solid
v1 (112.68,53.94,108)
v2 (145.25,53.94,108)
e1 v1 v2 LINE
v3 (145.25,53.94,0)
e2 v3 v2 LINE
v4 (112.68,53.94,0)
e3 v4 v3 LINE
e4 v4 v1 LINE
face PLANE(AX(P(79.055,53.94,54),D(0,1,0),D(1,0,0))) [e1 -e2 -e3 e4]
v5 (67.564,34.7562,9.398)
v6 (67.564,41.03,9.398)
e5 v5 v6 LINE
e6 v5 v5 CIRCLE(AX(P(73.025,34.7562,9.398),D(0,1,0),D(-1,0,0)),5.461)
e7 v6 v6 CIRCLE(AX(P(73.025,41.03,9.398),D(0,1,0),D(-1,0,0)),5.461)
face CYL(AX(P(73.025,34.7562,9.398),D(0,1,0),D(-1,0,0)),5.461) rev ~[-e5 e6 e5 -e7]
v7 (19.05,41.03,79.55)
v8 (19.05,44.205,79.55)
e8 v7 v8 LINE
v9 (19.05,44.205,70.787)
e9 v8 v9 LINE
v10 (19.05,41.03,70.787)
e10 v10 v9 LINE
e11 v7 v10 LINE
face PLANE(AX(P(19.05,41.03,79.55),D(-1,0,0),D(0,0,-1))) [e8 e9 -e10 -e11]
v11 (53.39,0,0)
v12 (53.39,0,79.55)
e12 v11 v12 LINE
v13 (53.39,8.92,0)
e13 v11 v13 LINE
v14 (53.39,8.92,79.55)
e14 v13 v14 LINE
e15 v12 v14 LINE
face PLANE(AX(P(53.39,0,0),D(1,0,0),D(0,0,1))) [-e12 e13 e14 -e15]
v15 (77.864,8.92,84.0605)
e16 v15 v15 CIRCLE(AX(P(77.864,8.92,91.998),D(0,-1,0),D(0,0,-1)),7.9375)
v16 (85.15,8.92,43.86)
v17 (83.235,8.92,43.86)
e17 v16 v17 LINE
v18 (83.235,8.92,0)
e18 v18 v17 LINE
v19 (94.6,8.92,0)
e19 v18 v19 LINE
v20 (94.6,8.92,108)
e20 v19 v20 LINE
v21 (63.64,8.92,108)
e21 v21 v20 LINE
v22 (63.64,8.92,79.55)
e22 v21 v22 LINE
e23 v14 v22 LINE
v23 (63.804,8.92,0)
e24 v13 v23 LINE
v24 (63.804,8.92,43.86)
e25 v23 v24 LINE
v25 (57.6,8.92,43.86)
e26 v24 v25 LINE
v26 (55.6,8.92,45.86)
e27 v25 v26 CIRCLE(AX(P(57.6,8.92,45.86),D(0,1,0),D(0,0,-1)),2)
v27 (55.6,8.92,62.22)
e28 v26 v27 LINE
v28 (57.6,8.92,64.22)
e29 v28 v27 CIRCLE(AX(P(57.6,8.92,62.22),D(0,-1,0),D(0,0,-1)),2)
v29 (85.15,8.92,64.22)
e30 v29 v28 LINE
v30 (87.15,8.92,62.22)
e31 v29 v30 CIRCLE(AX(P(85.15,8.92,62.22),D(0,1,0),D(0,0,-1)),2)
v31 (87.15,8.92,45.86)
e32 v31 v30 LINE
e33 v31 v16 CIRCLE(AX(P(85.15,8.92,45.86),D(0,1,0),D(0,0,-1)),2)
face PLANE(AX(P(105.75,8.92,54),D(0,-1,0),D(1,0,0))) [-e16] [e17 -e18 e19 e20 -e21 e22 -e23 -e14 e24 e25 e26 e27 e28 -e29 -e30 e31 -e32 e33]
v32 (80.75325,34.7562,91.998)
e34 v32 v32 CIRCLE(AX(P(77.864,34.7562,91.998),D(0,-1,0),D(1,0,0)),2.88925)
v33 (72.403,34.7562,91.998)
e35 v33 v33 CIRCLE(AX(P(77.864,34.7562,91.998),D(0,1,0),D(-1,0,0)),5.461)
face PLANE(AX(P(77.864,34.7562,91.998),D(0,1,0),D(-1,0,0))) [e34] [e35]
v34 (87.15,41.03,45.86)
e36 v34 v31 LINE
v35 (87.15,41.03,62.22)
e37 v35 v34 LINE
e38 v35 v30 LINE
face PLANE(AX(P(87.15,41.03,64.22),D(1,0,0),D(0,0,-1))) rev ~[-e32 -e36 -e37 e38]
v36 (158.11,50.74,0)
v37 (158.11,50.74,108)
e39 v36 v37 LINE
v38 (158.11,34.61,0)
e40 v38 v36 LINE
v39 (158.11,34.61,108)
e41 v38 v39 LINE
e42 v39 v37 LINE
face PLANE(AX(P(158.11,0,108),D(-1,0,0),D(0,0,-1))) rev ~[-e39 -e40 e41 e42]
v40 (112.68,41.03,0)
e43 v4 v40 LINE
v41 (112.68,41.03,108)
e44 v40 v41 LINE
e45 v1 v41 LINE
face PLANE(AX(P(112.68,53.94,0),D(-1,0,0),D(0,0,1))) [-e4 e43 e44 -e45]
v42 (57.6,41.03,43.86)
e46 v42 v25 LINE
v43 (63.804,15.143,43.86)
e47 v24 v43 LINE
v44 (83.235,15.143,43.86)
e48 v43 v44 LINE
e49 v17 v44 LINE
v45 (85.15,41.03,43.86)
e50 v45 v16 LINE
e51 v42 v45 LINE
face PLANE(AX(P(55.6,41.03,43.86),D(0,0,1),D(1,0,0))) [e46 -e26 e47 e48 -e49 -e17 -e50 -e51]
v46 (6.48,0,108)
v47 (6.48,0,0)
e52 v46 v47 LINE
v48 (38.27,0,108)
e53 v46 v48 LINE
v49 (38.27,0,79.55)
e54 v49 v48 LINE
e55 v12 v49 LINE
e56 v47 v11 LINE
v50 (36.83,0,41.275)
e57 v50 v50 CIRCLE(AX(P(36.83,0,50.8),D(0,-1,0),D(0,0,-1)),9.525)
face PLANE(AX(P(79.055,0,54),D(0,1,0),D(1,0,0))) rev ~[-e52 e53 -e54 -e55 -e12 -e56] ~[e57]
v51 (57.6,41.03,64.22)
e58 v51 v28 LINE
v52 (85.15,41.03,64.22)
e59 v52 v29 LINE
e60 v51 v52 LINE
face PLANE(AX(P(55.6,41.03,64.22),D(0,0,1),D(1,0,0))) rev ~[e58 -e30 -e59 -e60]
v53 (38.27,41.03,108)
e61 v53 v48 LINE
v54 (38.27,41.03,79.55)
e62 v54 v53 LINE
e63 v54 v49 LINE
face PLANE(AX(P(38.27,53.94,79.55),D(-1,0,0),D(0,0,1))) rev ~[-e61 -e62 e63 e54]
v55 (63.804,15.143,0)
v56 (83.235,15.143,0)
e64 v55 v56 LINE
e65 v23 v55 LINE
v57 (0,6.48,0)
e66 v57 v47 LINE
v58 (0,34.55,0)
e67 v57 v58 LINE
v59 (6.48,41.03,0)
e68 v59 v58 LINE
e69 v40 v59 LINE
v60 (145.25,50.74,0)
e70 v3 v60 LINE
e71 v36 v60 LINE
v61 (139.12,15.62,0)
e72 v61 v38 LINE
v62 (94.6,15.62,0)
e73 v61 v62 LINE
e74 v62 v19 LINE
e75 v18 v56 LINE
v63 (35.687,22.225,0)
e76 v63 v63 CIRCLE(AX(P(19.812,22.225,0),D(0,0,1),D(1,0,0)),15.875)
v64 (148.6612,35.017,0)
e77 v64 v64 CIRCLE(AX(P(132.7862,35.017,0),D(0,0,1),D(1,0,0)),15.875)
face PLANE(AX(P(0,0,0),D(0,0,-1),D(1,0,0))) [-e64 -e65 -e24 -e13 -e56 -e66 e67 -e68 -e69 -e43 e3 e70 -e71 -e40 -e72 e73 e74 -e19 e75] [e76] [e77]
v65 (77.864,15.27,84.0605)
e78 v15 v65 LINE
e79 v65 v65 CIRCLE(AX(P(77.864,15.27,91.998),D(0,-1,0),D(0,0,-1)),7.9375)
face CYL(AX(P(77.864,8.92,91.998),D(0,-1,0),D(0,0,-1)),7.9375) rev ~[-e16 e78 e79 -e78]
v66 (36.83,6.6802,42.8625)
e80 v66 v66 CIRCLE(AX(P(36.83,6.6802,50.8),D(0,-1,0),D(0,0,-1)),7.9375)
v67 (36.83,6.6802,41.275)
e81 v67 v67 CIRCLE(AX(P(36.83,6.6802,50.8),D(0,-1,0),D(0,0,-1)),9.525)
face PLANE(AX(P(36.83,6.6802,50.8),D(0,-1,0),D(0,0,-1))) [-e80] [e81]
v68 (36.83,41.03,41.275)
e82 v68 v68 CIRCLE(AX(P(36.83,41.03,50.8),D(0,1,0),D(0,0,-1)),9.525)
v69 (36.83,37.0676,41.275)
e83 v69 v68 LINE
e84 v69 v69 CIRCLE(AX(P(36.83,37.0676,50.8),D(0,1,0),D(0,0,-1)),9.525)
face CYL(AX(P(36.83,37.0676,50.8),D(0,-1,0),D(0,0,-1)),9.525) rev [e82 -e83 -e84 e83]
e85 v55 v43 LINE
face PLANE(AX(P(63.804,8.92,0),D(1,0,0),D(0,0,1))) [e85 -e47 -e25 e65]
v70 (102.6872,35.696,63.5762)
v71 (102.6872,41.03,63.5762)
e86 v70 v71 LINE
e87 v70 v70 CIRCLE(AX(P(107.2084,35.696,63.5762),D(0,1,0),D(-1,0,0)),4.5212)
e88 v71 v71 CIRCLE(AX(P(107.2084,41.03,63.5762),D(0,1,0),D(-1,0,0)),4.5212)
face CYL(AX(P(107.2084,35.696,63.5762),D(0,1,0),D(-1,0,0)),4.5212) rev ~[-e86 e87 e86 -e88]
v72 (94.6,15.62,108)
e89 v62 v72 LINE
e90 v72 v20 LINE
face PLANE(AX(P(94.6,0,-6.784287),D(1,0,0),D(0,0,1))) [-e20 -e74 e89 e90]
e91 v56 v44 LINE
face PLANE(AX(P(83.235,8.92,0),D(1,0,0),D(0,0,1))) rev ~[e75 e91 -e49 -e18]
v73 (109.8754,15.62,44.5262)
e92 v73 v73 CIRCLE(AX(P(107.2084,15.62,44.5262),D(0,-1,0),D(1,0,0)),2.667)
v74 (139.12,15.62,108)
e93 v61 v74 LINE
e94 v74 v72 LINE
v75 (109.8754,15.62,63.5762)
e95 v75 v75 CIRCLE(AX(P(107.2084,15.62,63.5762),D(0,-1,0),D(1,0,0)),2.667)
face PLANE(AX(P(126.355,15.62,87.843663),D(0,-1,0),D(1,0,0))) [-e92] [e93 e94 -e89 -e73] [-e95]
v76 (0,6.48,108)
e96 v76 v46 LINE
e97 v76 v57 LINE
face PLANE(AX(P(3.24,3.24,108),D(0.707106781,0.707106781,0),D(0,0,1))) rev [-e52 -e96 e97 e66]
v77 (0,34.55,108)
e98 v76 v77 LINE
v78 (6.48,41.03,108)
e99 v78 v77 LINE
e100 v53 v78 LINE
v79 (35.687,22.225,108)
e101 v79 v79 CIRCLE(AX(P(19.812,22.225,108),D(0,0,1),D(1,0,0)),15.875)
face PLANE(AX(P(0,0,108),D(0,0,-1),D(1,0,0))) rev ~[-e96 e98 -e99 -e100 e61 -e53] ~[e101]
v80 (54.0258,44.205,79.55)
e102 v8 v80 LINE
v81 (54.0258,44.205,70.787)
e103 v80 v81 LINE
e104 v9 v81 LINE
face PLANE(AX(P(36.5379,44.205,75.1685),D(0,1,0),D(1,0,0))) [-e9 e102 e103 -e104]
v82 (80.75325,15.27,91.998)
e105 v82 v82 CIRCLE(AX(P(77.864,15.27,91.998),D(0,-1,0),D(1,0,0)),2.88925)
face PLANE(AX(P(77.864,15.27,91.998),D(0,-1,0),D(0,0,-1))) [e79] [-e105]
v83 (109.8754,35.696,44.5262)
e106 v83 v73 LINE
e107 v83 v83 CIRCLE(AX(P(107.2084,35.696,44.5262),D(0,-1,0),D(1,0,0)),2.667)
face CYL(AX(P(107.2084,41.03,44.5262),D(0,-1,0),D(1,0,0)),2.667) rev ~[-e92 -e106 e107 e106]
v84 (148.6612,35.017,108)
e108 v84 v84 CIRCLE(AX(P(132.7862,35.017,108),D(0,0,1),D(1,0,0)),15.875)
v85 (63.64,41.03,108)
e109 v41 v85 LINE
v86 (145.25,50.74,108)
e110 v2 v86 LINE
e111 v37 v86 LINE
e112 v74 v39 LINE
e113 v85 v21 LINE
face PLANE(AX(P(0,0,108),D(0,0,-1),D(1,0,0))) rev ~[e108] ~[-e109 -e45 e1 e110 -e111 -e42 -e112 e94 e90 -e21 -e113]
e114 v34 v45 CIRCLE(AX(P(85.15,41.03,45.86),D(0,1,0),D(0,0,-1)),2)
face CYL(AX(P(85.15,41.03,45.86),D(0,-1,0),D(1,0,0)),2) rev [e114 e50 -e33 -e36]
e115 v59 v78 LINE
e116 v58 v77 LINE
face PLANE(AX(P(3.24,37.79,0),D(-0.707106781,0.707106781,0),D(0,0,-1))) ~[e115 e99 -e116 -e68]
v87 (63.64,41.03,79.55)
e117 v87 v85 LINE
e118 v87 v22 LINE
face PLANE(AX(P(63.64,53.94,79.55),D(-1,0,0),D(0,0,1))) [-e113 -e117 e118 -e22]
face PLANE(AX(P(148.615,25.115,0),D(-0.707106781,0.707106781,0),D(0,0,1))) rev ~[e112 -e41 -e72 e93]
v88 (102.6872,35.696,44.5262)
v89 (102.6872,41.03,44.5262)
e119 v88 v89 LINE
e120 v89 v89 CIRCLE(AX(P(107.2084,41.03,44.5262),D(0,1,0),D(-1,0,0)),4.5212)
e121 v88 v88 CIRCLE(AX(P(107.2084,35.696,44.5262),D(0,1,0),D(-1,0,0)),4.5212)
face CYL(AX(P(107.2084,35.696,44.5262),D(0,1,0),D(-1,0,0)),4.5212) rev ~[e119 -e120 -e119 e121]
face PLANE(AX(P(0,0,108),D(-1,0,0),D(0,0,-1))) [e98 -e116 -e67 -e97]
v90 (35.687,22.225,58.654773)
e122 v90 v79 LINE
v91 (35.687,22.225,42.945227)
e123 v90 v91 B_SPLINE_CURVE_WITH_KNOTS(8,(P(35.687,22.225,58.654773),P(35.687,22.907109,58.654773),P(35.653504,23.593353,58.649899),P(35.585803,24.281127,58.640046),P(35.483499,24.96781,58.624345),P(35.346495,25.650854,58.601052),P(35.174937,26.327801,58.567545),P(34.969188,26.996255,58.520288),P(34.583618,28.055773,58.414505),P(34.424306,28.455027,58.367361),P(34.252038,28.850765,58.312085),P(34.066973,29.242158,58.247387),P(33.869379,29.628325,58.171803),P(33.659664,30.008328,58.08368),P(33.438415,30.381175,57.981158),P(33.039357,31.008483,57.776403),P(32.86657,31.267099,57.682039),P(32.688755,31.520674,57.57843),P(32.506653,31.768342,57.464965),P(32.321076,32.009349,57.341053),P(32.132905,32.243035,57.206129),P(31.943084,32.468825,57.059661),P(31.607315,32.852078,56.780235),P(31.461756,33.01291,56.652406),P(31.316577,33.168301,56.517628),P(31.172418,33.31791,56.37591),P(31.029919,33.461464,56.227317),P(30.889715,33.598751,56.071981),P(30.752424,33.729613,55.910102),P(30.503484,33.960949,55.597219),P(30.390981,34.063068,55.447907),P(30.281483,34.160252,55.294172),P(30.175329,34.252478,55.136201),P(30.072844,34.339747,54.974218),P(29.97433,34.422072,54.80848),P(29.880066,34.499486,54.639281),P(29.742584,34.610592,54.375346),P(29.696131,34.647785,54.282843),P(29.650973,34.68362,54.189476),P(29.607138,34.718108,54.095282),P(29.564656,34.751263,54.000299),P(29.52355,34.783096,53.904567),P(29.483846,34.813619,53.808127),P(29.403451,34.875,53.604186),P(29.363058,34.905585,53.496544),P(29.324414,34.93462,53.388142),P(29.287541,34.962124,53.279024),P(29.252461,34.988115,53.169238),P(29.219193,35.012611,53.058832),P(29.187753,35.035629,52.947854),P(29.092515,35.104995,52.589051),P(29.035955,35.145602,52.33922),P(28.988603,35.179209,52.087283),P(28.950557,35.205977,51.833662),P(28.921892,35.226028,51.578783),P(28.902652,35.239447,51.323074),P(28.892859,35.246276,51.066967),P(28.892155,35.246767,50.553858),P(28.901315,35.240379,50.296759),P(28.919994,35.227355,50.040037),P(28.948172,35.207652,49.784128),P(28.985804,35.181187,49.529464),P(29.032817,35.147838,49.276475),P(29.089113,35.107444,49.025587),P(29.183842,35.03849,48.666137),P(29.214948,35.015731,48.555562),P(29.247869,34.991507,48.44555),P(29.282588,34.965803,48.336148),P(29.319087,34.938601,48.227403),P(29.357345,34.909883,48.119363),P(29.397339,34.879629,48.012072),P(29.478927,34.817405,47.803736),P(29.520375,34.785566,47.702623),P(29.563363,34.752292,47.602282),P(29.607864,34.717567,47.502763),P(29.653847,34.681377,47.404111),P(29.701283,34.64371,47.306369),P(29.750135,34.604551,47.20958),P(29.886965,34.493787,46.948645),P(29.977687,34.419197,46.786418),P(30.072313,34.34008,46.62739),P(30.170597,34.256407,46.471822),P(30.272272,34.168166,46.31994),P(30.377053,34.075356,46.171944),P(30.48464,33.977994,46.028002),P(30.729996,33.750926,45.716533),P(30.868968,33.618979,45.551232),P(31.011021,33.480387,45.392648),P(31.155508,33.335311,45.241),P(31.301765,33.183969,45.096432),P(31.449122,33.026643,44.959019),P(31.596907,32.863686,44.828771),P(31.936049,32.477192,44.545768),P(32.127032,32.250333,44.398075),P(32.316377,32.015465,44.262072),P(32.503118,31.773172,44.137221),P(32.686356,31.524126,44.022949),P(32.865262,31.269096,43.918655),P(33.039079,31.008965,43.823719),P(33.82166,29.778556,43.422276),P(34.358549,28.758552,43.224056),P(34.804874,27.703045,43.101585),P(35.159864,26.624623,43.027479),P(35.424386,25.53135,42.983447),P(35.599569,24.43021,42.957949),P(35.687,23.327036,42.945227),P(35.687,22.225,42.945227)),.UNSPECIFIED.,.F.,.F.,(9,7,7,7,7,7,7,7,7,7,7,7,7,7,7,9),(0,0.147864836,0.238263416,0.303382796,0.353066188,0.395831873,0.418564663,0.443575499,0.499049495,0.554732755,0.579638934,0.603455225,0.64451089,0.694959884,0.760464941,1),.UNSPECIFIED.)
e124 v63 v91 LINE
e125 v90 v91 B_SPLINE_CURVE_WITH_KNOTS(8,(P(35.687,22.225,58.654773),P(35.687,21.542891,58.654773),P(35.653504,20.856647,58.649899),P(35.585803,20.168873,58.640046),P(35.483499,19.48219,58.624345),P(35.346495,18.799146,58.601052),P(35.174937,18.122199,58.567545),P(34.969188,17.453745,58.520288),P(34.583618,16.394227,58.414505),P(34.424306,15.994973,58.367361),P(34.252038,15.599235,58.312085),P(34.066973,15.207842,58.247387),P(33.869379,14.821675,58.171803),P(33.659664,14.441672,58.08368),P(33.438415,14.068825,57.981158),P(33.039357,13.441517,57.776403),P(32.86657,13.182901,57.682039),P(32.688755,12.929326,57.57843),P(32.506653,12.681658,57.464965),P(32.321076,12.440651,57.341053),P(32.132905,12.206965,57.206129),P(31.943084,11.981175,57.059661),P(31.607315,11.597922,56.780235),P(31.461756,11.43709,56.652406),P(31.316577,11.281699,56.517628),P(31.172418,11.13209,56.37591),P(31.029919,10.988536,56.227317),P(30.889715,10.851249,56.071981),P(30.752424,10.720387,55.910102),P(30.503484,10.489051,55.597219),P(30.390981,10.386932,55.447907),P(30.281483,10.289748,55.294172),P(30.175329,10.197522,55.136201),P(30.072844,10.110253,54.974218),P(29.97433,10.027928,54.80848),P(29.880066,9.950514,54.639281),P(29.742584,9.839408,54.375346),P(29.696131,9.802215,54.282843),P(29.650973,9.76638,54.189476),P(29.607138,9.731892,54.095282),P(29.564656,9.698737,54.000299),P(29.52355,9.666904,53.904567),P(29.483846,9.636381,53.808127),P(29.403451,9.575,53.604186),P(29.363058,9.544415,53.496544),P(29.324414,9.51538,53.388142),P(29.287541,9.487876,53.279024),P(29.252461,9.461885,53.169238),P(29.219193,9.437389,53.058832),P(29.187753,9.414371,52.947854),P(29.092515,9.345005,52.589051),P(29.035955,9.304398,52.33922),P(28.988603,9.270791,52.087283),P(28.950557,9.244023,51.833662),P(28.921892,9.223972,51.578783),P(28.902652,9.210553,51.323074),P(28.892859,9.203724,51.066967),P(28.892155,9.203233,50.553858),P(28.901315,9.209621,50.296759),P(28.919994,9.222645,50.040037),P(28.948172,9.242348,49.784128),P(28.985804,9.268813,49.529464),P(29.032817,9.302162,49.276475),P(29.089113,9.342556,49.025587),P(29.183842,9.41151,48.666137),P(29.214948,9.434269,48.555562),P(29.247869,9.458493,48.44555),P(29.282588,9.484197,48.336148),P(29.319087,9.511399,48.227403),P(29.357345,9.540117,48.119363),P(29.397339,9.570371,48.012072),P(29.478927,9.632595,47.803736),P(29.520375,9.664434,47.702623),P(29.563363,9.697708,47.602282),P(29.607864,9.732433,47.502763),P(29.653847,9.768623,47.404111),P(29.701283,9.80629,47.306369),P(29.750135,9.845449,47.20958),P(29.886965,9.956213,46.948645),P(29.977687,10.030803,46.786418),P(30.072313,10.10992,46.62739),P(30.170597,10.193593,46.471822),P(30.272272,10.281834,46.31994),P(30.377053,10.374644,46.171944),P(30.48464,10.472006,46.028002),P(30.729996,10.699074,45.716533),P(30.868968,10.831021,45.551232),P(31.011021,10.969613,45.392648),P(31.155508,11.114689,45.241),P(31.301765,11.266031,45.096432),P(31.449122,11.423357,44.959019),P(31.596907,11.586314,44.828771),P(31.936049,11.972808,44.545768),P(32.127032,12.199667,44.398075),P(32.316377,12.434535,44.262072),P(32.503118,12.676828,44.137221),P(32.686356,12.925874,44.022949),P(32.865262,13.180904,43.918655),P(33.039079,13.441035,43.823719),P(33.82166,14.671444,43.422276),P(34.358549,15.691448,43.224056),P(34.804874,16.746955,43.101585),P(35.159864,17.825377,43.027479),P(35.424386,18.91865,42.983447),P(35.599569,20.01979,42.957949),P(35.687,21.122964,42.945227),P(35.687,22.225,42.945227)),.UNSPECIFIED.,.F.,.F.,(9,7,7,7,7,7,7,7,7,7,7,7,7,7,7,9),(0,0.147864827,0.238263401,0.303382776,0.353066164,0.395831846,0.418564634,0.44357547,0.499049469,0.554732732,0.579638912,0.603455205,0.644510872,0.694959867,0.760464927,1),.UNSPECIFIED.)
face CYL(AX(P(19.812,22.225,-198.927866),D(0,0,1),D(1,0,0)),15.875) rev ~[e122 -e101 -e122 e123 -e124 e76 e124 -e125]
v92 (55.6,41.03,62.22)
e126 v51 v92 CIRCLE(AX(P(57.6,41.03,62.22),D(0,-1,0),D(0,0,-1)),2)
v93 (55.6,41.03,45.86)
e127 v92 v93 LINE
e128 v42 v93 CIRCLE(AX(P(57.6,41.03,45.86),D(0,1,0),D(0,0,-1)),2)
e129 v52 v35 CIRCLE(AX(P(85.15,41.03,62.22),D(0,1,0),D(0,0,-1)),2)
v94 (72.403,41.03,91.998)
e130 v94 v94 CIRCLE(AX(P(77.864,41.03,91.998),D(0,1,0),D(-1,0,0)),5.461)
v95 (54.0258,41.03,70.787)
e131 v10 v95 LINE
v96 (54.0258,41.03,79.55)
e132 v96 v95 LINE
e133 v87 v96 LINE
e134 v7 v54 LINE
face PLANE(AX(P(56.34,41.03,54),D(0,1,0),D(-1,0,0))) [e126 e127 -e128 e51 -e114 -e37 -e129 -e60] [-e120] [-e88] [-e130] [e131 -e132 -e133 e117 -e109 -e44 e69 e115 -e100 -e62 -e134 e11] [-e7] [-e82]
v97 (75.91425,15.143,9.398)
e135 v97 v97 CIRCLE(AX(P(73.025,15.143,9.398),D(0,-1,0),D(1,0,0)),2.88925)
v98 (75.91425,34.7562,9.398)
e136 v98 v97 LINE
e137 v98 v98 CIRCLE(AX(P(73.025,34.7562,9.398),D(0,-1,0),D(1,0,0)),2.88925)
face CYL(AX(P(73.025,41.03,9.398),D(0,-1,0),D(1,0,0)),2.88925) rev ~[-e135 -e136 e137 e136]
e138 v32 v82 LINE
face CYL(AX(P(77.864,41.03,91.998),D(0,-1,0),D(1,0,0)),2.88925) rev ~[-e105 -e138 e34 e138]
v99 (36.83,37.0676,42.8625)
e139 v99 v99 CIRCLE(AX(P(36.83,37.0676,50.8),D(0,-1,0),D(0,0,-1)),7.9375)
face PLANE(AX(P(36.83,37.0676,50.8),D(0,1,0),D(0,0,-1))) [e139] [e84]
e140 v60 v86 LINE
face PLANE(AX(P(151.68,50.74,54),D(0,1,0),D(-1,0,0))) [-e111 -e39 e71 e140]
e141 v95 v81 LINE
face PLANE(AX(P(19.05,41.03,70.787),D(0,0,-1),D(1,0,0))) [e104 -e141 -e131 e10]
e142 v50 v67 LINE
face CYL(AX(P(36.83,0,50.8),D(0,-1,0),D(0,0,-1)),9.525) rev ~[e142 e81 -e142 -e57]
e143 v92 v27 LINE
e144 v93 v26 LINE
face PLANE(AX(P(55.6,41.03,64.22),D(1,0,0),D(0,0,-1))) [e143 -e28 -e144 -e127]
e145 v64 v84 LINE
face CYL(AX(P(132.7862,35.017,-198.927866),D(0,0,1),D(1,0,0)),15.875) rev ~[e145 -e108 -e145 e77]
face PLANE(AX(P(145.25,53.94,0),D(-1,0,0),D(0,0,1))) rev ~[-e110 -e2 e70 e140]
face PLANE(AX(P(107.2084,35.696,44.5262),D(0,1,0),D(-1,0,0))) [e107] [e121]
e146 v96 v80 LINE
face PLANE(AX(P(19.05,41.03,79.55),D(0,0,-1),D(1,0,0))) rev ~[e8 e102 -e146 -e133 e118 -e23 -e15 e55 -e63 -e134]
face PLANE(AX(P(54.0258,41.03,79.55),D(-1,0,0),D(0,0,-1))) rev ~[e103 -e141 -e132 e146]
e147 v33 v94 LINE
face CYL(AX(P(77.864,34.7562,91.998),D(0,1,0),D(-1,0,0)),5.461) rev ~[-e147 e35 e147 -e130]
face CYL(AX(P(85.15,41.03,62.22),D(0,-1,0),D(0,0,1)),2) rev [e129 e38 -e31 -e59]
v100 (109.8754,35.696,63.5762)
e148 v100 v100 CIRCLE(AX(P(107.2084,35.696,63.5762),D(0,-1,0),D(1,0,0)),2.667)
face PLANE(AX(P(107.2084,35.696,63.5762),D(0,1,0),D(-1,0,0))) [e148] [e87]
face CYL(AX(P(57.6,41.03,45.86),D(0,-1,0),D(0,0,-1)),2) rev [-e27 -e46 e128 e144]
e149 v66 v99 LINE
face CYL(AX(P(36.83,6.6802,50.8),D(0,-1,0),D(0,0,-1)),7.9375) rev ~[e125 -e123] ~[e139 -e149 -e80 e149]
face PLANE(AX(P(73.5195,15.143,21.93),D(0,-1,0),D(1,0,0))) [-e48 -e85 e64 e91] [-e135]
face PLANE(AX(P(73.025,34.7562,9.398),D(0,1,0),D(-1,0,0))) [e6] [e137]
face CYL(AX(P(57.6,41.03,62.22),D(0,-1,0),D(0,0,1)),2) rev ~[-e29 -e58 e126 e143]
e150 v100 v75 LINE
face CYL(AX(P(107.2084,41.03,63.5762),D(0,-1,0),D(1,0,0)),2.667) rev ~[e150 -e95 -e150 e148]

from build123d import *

# Parameters (mm, degrees)
SKETCH1_W           = 158.11
SKETCH1_H           = 108
BOSS_EXTRUDE1_DEPTH = 53.94
SKETCH2_W           = 12.86
SKETCH2_H           = 108
CUT_EXTRUDE1_DEPTH  = 3.2
SKETCH3_W           = 112.68
SKETCH3_H           = 108
CUT_EXTRUDE2_DEPTH  = 12.91
SKETCH4_W           = 104.72
SKETCH4_H           = 108
CUT_EXTRUDE3_DEPTH  = 8.92
SKETCH5_W           = 63.51
SKETCH5_H           = 189.255900931
CUT_EXTRUDE4_DEPTH  = 15.62
SKETCH6_W           = 25.37
SKETCH6_H           = 28.45
CUT_EXTRUDE5_DEPTH  = 199.927865569
SKETCH7_W           = 31.55
SKETCH7_H           = 20.36
CUT_EXTRUDE6_DEPTH  = 196.82194208
FILLET1_R           = 2
CHAMFER1_SIZE       = 6.48
CHAMFER2_SIZE       = 18.99
HOLE1_D             = 31.75
SKETCH10_W          = 19.431
SKETCH10_H          = 43.86
CUT_EXTRUDE7_DEPTH  = 6.223
SKETCH11_R          = 9.525
CUT_EXTRUDE10_DEPTH = 6.6802
SKETCH12_R          = 7.9375
CUT_EXTRUDE11_DEPTH = 198.221349747
CUT_EXTRUDE12_START = -3.9624
SKETCH13_R          = 9.525
CUT_EXTRUDE12_DEPTH = 3.9624
SKETCH14_W          = 34.9758
SKETCH14_H          = 8.763
BOSS_EXTRUDE2_DEPTH = 3.175
HOLE2_D             = 5.7785
HOLE2_CBORE_D       = 10.922
HOLE2_CBORE_DEPTH   = 6.2738
SKETCH18_R          = 7.9375
CUT_EXTRUDE13_DEPTH = 6.35
HOLE3_D             = 5.334
HOLE3_CBORE_D       = 9.0424
HOLE3_CBORE_DEPTH   = 5.334


with BuildPart() as part:
    # Sketch1 → Boss-Extrude1 (new body)
    with BuildSketch(Plane(origin=(0, 0, 0), x_dir=(1, 0, 0), z_dir=(0, 1, 0))):
        with Locations((79.055, -54)):
            Rectangle(SKETCH1_W, SKETCH1_H)
    extrude(amount=BOSS_EXTRUDE1_DEPTH)

    # Sketch2 → Cut-Extrude1 (cut)
    with BuildSketch(Plane(origin=(0, 53.94, 0), x_dir=(-1, 0, 0), z_dir=(0, 1, 0))):
        with Locations((-151.68, 54)):
            Rectangle(SKETCH2_W, SKETCH2_H)
    extrude(amount=-CUT_EXTRUDE1_DEPTH, mode=Mode.SUBTRACT)

    # Sketch3 → Cut-Extrude2 (cut)
    with BuildSketch(Plane(origin=(0, 53.94, 0), x_dir=(-1, 0, 0), z_dir=(0, 1, 0))):
        with Locations((-56.34, 54)):
            Rectangle(SKETCH3_W, SKETCH3_H)
    extrude(amount=-CUT_EXTRUDE2_DEPTH, mode=Mode.SUBTRACT)

    # Sketch4 → Cut-Extrude3 (cut)
    with BuildSketch(Plane.XZ):
        with Locations((105.75, 54)):
            Rectangle(SKETCH4_W, SKETCH4_H)
    extrude(amount=-CUT_EXTRUDE3_DEPTH, mode=Mode.SUBTRACT)

    # Sketch5 → Cut-Extrude4 (cut)
    with BuildSketch(Plane.XZ):
        with Locations((126.355, 87.843662975)):
            Rectangle(SKETCH5_W, SKETCH5_H)
    extrude(amount=-CUT_EXTRUDE4_DEPTH, mode=Mode.SUBTRACT)

    # Sketch6 → Cut-Extrude5 (cut, through all)
    with BuildSketch(Plane(origin=(0, 53.94, 0), x_dir=(-1, 0, 0), z_dir=(0, 1, 0))):
        with Locations((-50.955, 93.775)):
            Rectangle(SKETCH6_W, SKETCH6_H)
    extrude(amount=-CUT_EXTRUDE5_DEPTH, mode=Mode.SUBTRACT)

    # Sketch7 → Cut-Extrude6 (cut, through all)
    with BuildSketch(Plane(origin=(0, 41.03, 0), x_dir=(1, 0, 0), z_dir=(0, 1, 0))):
        with Locations((71.375, -54.04)):
            Rectangle(SKETCH7_W, SKETCH7_H)
    extrude(amount=-CUT_EXTRUDE6_DEPTH, mode=Mode.SUBTRACT)

    # Fillet1
    fillet1_edges = [part.edges().sort_by_distance(p)[0] for p in [
        (55.6, 24.975, 64.22),
        (55.6, 24.975, 43.86),
        (87.15, 24.975, 43.86),
        (87.15, 24.975, 64.22),
    ]]
    fillet(fillet1_edges, radius=FILLET1_R)

    # Chamfer1
    chamfer1_edges = [part.edges().sort_by_distance(p)[0] for p in [
        (0, 41.03, 54),
        (0, 0, 54),
    ]]
    chamfer(chamfer1_edges, length=CHAMFER1_SIZE)

    # Chamfer2
    chamfer2_edges = [part.edges().sort_by_distance(p)[0] for p in [
        (158.11, 15.62, 54),
    ]]
    chamfer(chamfer2_edges, length=CHAMFER2_SIZE)

    # Hole1 (through all)
    with Locations(Plane(origin=(0, 0, 0), x_dir=(-1, 0, 0), z_dir=(0, 0, -1))):
        with Locations((-19.812, 22.225), (-132.7862, 35.017)):
            Hole(HOLE1_D / 2)

    # Sketch10 → Cut-Extrude7 (cut)
    with BuildSketch(Plane.XZ.offset(-8.92)):
        with Locations((73.5195, 21.93)):
            Rectangle(SKETCH10_W, SKETCH10_H)
    extrude(amount=-CUT_EXTRUDE7_DEPTH, mode=Mode.SUBTRACT)

    # Sketch11 → Cut-Extrude10 (cut)
    with BuildSketch(Plane.XZ):
        with Locations(Location((36.83, 50.8, 0), (0, 0, 270))):
            Circle(SKETCH11_R)
    extrude(amount=-CUT_EXTRUDE10_DEPTH, mode=Mode.SUBTRACT)

    # Sketch12 → Cut-Extrude11 (cut, through all)
    with BuildSketch(Plane.XZ.offset(-6.6802)):
        with Locations(Location((36.83, 50.8, 0), (0, 0, 270))):
            Circle(SKETCH12_R)
    extrude(amount=-CUT_EXTRUDE11_DEPTH, mode=Mode.SUBTRACT)

    # Sketch13 → Cut-Extrude12 (cut)
    with BuildSketch(Plane(origin=(0, 41.03, 0), x_dir=(-1, 0, 0), z_dir=(0, 1, 0)).offset(CUT_EXTRUDE12_START)):
        with Locations(Location((-36.83, 50.8, 0), (0, 0, 270))):
            Circle(SKETCH13_R)
    extrude(amount=CUT_EXTRUDE12_DEPTH, mode=Mode.SUBTRACT)

    # Sketch14 → Boss-Extrude2 (add)
    with BuildSketch(Plane(origin=(0, 41.03, 0), x_dir=(1, 0, 0), z_dir=(0, 1, 0))):
        with Locations((36.5379, -75.1685)):
            Rectangle(SKETCH14_W, SKETCH14_H)
    extrude(amount=BOSS_EXTRUDE2_DEPTH)

    # Hole2 (through all)
    with Locations(Plane(origin=(0, 41.03, 0), x_dir=(-1, 0, 0), z_dir=(0, 1, 0))):
        with Locations((-73.025, 9.398), (-77.864, 91.998)):
            CounterBoreHole(HOLE2_D / 2, HOLE2_CBORE_D / 2, HOLE2_CBORE_DEPTH)

    # Sketch18 → Cut-Extrude13 (cut)
    with BuildSketch(Plane.XZ.offset(-8.92)):
        with Locations(Location((77.864, 91.998, 0), (0, 0, 270))):
            Circle(SKETCH18_R)
    extrude(amount=-CUT_EXTRUDE13_DEPTH, mode=Mode.SUBTRACT)

    # Hole3 (through all)
    with Locations(Plane(origin=(0, 41.03, 0), x_dir=(-1, 0, 0), z_dir=(0, 1, 0))):
        with Locations((-107.2084, 44.5262), (-107.2084, 63.5762)):
            CounterBoreHole(HOLE3_D / 2, HOLE3_CBORE_D / 2, HOLE3_CBORE_DEPTH)


solid = part.part
